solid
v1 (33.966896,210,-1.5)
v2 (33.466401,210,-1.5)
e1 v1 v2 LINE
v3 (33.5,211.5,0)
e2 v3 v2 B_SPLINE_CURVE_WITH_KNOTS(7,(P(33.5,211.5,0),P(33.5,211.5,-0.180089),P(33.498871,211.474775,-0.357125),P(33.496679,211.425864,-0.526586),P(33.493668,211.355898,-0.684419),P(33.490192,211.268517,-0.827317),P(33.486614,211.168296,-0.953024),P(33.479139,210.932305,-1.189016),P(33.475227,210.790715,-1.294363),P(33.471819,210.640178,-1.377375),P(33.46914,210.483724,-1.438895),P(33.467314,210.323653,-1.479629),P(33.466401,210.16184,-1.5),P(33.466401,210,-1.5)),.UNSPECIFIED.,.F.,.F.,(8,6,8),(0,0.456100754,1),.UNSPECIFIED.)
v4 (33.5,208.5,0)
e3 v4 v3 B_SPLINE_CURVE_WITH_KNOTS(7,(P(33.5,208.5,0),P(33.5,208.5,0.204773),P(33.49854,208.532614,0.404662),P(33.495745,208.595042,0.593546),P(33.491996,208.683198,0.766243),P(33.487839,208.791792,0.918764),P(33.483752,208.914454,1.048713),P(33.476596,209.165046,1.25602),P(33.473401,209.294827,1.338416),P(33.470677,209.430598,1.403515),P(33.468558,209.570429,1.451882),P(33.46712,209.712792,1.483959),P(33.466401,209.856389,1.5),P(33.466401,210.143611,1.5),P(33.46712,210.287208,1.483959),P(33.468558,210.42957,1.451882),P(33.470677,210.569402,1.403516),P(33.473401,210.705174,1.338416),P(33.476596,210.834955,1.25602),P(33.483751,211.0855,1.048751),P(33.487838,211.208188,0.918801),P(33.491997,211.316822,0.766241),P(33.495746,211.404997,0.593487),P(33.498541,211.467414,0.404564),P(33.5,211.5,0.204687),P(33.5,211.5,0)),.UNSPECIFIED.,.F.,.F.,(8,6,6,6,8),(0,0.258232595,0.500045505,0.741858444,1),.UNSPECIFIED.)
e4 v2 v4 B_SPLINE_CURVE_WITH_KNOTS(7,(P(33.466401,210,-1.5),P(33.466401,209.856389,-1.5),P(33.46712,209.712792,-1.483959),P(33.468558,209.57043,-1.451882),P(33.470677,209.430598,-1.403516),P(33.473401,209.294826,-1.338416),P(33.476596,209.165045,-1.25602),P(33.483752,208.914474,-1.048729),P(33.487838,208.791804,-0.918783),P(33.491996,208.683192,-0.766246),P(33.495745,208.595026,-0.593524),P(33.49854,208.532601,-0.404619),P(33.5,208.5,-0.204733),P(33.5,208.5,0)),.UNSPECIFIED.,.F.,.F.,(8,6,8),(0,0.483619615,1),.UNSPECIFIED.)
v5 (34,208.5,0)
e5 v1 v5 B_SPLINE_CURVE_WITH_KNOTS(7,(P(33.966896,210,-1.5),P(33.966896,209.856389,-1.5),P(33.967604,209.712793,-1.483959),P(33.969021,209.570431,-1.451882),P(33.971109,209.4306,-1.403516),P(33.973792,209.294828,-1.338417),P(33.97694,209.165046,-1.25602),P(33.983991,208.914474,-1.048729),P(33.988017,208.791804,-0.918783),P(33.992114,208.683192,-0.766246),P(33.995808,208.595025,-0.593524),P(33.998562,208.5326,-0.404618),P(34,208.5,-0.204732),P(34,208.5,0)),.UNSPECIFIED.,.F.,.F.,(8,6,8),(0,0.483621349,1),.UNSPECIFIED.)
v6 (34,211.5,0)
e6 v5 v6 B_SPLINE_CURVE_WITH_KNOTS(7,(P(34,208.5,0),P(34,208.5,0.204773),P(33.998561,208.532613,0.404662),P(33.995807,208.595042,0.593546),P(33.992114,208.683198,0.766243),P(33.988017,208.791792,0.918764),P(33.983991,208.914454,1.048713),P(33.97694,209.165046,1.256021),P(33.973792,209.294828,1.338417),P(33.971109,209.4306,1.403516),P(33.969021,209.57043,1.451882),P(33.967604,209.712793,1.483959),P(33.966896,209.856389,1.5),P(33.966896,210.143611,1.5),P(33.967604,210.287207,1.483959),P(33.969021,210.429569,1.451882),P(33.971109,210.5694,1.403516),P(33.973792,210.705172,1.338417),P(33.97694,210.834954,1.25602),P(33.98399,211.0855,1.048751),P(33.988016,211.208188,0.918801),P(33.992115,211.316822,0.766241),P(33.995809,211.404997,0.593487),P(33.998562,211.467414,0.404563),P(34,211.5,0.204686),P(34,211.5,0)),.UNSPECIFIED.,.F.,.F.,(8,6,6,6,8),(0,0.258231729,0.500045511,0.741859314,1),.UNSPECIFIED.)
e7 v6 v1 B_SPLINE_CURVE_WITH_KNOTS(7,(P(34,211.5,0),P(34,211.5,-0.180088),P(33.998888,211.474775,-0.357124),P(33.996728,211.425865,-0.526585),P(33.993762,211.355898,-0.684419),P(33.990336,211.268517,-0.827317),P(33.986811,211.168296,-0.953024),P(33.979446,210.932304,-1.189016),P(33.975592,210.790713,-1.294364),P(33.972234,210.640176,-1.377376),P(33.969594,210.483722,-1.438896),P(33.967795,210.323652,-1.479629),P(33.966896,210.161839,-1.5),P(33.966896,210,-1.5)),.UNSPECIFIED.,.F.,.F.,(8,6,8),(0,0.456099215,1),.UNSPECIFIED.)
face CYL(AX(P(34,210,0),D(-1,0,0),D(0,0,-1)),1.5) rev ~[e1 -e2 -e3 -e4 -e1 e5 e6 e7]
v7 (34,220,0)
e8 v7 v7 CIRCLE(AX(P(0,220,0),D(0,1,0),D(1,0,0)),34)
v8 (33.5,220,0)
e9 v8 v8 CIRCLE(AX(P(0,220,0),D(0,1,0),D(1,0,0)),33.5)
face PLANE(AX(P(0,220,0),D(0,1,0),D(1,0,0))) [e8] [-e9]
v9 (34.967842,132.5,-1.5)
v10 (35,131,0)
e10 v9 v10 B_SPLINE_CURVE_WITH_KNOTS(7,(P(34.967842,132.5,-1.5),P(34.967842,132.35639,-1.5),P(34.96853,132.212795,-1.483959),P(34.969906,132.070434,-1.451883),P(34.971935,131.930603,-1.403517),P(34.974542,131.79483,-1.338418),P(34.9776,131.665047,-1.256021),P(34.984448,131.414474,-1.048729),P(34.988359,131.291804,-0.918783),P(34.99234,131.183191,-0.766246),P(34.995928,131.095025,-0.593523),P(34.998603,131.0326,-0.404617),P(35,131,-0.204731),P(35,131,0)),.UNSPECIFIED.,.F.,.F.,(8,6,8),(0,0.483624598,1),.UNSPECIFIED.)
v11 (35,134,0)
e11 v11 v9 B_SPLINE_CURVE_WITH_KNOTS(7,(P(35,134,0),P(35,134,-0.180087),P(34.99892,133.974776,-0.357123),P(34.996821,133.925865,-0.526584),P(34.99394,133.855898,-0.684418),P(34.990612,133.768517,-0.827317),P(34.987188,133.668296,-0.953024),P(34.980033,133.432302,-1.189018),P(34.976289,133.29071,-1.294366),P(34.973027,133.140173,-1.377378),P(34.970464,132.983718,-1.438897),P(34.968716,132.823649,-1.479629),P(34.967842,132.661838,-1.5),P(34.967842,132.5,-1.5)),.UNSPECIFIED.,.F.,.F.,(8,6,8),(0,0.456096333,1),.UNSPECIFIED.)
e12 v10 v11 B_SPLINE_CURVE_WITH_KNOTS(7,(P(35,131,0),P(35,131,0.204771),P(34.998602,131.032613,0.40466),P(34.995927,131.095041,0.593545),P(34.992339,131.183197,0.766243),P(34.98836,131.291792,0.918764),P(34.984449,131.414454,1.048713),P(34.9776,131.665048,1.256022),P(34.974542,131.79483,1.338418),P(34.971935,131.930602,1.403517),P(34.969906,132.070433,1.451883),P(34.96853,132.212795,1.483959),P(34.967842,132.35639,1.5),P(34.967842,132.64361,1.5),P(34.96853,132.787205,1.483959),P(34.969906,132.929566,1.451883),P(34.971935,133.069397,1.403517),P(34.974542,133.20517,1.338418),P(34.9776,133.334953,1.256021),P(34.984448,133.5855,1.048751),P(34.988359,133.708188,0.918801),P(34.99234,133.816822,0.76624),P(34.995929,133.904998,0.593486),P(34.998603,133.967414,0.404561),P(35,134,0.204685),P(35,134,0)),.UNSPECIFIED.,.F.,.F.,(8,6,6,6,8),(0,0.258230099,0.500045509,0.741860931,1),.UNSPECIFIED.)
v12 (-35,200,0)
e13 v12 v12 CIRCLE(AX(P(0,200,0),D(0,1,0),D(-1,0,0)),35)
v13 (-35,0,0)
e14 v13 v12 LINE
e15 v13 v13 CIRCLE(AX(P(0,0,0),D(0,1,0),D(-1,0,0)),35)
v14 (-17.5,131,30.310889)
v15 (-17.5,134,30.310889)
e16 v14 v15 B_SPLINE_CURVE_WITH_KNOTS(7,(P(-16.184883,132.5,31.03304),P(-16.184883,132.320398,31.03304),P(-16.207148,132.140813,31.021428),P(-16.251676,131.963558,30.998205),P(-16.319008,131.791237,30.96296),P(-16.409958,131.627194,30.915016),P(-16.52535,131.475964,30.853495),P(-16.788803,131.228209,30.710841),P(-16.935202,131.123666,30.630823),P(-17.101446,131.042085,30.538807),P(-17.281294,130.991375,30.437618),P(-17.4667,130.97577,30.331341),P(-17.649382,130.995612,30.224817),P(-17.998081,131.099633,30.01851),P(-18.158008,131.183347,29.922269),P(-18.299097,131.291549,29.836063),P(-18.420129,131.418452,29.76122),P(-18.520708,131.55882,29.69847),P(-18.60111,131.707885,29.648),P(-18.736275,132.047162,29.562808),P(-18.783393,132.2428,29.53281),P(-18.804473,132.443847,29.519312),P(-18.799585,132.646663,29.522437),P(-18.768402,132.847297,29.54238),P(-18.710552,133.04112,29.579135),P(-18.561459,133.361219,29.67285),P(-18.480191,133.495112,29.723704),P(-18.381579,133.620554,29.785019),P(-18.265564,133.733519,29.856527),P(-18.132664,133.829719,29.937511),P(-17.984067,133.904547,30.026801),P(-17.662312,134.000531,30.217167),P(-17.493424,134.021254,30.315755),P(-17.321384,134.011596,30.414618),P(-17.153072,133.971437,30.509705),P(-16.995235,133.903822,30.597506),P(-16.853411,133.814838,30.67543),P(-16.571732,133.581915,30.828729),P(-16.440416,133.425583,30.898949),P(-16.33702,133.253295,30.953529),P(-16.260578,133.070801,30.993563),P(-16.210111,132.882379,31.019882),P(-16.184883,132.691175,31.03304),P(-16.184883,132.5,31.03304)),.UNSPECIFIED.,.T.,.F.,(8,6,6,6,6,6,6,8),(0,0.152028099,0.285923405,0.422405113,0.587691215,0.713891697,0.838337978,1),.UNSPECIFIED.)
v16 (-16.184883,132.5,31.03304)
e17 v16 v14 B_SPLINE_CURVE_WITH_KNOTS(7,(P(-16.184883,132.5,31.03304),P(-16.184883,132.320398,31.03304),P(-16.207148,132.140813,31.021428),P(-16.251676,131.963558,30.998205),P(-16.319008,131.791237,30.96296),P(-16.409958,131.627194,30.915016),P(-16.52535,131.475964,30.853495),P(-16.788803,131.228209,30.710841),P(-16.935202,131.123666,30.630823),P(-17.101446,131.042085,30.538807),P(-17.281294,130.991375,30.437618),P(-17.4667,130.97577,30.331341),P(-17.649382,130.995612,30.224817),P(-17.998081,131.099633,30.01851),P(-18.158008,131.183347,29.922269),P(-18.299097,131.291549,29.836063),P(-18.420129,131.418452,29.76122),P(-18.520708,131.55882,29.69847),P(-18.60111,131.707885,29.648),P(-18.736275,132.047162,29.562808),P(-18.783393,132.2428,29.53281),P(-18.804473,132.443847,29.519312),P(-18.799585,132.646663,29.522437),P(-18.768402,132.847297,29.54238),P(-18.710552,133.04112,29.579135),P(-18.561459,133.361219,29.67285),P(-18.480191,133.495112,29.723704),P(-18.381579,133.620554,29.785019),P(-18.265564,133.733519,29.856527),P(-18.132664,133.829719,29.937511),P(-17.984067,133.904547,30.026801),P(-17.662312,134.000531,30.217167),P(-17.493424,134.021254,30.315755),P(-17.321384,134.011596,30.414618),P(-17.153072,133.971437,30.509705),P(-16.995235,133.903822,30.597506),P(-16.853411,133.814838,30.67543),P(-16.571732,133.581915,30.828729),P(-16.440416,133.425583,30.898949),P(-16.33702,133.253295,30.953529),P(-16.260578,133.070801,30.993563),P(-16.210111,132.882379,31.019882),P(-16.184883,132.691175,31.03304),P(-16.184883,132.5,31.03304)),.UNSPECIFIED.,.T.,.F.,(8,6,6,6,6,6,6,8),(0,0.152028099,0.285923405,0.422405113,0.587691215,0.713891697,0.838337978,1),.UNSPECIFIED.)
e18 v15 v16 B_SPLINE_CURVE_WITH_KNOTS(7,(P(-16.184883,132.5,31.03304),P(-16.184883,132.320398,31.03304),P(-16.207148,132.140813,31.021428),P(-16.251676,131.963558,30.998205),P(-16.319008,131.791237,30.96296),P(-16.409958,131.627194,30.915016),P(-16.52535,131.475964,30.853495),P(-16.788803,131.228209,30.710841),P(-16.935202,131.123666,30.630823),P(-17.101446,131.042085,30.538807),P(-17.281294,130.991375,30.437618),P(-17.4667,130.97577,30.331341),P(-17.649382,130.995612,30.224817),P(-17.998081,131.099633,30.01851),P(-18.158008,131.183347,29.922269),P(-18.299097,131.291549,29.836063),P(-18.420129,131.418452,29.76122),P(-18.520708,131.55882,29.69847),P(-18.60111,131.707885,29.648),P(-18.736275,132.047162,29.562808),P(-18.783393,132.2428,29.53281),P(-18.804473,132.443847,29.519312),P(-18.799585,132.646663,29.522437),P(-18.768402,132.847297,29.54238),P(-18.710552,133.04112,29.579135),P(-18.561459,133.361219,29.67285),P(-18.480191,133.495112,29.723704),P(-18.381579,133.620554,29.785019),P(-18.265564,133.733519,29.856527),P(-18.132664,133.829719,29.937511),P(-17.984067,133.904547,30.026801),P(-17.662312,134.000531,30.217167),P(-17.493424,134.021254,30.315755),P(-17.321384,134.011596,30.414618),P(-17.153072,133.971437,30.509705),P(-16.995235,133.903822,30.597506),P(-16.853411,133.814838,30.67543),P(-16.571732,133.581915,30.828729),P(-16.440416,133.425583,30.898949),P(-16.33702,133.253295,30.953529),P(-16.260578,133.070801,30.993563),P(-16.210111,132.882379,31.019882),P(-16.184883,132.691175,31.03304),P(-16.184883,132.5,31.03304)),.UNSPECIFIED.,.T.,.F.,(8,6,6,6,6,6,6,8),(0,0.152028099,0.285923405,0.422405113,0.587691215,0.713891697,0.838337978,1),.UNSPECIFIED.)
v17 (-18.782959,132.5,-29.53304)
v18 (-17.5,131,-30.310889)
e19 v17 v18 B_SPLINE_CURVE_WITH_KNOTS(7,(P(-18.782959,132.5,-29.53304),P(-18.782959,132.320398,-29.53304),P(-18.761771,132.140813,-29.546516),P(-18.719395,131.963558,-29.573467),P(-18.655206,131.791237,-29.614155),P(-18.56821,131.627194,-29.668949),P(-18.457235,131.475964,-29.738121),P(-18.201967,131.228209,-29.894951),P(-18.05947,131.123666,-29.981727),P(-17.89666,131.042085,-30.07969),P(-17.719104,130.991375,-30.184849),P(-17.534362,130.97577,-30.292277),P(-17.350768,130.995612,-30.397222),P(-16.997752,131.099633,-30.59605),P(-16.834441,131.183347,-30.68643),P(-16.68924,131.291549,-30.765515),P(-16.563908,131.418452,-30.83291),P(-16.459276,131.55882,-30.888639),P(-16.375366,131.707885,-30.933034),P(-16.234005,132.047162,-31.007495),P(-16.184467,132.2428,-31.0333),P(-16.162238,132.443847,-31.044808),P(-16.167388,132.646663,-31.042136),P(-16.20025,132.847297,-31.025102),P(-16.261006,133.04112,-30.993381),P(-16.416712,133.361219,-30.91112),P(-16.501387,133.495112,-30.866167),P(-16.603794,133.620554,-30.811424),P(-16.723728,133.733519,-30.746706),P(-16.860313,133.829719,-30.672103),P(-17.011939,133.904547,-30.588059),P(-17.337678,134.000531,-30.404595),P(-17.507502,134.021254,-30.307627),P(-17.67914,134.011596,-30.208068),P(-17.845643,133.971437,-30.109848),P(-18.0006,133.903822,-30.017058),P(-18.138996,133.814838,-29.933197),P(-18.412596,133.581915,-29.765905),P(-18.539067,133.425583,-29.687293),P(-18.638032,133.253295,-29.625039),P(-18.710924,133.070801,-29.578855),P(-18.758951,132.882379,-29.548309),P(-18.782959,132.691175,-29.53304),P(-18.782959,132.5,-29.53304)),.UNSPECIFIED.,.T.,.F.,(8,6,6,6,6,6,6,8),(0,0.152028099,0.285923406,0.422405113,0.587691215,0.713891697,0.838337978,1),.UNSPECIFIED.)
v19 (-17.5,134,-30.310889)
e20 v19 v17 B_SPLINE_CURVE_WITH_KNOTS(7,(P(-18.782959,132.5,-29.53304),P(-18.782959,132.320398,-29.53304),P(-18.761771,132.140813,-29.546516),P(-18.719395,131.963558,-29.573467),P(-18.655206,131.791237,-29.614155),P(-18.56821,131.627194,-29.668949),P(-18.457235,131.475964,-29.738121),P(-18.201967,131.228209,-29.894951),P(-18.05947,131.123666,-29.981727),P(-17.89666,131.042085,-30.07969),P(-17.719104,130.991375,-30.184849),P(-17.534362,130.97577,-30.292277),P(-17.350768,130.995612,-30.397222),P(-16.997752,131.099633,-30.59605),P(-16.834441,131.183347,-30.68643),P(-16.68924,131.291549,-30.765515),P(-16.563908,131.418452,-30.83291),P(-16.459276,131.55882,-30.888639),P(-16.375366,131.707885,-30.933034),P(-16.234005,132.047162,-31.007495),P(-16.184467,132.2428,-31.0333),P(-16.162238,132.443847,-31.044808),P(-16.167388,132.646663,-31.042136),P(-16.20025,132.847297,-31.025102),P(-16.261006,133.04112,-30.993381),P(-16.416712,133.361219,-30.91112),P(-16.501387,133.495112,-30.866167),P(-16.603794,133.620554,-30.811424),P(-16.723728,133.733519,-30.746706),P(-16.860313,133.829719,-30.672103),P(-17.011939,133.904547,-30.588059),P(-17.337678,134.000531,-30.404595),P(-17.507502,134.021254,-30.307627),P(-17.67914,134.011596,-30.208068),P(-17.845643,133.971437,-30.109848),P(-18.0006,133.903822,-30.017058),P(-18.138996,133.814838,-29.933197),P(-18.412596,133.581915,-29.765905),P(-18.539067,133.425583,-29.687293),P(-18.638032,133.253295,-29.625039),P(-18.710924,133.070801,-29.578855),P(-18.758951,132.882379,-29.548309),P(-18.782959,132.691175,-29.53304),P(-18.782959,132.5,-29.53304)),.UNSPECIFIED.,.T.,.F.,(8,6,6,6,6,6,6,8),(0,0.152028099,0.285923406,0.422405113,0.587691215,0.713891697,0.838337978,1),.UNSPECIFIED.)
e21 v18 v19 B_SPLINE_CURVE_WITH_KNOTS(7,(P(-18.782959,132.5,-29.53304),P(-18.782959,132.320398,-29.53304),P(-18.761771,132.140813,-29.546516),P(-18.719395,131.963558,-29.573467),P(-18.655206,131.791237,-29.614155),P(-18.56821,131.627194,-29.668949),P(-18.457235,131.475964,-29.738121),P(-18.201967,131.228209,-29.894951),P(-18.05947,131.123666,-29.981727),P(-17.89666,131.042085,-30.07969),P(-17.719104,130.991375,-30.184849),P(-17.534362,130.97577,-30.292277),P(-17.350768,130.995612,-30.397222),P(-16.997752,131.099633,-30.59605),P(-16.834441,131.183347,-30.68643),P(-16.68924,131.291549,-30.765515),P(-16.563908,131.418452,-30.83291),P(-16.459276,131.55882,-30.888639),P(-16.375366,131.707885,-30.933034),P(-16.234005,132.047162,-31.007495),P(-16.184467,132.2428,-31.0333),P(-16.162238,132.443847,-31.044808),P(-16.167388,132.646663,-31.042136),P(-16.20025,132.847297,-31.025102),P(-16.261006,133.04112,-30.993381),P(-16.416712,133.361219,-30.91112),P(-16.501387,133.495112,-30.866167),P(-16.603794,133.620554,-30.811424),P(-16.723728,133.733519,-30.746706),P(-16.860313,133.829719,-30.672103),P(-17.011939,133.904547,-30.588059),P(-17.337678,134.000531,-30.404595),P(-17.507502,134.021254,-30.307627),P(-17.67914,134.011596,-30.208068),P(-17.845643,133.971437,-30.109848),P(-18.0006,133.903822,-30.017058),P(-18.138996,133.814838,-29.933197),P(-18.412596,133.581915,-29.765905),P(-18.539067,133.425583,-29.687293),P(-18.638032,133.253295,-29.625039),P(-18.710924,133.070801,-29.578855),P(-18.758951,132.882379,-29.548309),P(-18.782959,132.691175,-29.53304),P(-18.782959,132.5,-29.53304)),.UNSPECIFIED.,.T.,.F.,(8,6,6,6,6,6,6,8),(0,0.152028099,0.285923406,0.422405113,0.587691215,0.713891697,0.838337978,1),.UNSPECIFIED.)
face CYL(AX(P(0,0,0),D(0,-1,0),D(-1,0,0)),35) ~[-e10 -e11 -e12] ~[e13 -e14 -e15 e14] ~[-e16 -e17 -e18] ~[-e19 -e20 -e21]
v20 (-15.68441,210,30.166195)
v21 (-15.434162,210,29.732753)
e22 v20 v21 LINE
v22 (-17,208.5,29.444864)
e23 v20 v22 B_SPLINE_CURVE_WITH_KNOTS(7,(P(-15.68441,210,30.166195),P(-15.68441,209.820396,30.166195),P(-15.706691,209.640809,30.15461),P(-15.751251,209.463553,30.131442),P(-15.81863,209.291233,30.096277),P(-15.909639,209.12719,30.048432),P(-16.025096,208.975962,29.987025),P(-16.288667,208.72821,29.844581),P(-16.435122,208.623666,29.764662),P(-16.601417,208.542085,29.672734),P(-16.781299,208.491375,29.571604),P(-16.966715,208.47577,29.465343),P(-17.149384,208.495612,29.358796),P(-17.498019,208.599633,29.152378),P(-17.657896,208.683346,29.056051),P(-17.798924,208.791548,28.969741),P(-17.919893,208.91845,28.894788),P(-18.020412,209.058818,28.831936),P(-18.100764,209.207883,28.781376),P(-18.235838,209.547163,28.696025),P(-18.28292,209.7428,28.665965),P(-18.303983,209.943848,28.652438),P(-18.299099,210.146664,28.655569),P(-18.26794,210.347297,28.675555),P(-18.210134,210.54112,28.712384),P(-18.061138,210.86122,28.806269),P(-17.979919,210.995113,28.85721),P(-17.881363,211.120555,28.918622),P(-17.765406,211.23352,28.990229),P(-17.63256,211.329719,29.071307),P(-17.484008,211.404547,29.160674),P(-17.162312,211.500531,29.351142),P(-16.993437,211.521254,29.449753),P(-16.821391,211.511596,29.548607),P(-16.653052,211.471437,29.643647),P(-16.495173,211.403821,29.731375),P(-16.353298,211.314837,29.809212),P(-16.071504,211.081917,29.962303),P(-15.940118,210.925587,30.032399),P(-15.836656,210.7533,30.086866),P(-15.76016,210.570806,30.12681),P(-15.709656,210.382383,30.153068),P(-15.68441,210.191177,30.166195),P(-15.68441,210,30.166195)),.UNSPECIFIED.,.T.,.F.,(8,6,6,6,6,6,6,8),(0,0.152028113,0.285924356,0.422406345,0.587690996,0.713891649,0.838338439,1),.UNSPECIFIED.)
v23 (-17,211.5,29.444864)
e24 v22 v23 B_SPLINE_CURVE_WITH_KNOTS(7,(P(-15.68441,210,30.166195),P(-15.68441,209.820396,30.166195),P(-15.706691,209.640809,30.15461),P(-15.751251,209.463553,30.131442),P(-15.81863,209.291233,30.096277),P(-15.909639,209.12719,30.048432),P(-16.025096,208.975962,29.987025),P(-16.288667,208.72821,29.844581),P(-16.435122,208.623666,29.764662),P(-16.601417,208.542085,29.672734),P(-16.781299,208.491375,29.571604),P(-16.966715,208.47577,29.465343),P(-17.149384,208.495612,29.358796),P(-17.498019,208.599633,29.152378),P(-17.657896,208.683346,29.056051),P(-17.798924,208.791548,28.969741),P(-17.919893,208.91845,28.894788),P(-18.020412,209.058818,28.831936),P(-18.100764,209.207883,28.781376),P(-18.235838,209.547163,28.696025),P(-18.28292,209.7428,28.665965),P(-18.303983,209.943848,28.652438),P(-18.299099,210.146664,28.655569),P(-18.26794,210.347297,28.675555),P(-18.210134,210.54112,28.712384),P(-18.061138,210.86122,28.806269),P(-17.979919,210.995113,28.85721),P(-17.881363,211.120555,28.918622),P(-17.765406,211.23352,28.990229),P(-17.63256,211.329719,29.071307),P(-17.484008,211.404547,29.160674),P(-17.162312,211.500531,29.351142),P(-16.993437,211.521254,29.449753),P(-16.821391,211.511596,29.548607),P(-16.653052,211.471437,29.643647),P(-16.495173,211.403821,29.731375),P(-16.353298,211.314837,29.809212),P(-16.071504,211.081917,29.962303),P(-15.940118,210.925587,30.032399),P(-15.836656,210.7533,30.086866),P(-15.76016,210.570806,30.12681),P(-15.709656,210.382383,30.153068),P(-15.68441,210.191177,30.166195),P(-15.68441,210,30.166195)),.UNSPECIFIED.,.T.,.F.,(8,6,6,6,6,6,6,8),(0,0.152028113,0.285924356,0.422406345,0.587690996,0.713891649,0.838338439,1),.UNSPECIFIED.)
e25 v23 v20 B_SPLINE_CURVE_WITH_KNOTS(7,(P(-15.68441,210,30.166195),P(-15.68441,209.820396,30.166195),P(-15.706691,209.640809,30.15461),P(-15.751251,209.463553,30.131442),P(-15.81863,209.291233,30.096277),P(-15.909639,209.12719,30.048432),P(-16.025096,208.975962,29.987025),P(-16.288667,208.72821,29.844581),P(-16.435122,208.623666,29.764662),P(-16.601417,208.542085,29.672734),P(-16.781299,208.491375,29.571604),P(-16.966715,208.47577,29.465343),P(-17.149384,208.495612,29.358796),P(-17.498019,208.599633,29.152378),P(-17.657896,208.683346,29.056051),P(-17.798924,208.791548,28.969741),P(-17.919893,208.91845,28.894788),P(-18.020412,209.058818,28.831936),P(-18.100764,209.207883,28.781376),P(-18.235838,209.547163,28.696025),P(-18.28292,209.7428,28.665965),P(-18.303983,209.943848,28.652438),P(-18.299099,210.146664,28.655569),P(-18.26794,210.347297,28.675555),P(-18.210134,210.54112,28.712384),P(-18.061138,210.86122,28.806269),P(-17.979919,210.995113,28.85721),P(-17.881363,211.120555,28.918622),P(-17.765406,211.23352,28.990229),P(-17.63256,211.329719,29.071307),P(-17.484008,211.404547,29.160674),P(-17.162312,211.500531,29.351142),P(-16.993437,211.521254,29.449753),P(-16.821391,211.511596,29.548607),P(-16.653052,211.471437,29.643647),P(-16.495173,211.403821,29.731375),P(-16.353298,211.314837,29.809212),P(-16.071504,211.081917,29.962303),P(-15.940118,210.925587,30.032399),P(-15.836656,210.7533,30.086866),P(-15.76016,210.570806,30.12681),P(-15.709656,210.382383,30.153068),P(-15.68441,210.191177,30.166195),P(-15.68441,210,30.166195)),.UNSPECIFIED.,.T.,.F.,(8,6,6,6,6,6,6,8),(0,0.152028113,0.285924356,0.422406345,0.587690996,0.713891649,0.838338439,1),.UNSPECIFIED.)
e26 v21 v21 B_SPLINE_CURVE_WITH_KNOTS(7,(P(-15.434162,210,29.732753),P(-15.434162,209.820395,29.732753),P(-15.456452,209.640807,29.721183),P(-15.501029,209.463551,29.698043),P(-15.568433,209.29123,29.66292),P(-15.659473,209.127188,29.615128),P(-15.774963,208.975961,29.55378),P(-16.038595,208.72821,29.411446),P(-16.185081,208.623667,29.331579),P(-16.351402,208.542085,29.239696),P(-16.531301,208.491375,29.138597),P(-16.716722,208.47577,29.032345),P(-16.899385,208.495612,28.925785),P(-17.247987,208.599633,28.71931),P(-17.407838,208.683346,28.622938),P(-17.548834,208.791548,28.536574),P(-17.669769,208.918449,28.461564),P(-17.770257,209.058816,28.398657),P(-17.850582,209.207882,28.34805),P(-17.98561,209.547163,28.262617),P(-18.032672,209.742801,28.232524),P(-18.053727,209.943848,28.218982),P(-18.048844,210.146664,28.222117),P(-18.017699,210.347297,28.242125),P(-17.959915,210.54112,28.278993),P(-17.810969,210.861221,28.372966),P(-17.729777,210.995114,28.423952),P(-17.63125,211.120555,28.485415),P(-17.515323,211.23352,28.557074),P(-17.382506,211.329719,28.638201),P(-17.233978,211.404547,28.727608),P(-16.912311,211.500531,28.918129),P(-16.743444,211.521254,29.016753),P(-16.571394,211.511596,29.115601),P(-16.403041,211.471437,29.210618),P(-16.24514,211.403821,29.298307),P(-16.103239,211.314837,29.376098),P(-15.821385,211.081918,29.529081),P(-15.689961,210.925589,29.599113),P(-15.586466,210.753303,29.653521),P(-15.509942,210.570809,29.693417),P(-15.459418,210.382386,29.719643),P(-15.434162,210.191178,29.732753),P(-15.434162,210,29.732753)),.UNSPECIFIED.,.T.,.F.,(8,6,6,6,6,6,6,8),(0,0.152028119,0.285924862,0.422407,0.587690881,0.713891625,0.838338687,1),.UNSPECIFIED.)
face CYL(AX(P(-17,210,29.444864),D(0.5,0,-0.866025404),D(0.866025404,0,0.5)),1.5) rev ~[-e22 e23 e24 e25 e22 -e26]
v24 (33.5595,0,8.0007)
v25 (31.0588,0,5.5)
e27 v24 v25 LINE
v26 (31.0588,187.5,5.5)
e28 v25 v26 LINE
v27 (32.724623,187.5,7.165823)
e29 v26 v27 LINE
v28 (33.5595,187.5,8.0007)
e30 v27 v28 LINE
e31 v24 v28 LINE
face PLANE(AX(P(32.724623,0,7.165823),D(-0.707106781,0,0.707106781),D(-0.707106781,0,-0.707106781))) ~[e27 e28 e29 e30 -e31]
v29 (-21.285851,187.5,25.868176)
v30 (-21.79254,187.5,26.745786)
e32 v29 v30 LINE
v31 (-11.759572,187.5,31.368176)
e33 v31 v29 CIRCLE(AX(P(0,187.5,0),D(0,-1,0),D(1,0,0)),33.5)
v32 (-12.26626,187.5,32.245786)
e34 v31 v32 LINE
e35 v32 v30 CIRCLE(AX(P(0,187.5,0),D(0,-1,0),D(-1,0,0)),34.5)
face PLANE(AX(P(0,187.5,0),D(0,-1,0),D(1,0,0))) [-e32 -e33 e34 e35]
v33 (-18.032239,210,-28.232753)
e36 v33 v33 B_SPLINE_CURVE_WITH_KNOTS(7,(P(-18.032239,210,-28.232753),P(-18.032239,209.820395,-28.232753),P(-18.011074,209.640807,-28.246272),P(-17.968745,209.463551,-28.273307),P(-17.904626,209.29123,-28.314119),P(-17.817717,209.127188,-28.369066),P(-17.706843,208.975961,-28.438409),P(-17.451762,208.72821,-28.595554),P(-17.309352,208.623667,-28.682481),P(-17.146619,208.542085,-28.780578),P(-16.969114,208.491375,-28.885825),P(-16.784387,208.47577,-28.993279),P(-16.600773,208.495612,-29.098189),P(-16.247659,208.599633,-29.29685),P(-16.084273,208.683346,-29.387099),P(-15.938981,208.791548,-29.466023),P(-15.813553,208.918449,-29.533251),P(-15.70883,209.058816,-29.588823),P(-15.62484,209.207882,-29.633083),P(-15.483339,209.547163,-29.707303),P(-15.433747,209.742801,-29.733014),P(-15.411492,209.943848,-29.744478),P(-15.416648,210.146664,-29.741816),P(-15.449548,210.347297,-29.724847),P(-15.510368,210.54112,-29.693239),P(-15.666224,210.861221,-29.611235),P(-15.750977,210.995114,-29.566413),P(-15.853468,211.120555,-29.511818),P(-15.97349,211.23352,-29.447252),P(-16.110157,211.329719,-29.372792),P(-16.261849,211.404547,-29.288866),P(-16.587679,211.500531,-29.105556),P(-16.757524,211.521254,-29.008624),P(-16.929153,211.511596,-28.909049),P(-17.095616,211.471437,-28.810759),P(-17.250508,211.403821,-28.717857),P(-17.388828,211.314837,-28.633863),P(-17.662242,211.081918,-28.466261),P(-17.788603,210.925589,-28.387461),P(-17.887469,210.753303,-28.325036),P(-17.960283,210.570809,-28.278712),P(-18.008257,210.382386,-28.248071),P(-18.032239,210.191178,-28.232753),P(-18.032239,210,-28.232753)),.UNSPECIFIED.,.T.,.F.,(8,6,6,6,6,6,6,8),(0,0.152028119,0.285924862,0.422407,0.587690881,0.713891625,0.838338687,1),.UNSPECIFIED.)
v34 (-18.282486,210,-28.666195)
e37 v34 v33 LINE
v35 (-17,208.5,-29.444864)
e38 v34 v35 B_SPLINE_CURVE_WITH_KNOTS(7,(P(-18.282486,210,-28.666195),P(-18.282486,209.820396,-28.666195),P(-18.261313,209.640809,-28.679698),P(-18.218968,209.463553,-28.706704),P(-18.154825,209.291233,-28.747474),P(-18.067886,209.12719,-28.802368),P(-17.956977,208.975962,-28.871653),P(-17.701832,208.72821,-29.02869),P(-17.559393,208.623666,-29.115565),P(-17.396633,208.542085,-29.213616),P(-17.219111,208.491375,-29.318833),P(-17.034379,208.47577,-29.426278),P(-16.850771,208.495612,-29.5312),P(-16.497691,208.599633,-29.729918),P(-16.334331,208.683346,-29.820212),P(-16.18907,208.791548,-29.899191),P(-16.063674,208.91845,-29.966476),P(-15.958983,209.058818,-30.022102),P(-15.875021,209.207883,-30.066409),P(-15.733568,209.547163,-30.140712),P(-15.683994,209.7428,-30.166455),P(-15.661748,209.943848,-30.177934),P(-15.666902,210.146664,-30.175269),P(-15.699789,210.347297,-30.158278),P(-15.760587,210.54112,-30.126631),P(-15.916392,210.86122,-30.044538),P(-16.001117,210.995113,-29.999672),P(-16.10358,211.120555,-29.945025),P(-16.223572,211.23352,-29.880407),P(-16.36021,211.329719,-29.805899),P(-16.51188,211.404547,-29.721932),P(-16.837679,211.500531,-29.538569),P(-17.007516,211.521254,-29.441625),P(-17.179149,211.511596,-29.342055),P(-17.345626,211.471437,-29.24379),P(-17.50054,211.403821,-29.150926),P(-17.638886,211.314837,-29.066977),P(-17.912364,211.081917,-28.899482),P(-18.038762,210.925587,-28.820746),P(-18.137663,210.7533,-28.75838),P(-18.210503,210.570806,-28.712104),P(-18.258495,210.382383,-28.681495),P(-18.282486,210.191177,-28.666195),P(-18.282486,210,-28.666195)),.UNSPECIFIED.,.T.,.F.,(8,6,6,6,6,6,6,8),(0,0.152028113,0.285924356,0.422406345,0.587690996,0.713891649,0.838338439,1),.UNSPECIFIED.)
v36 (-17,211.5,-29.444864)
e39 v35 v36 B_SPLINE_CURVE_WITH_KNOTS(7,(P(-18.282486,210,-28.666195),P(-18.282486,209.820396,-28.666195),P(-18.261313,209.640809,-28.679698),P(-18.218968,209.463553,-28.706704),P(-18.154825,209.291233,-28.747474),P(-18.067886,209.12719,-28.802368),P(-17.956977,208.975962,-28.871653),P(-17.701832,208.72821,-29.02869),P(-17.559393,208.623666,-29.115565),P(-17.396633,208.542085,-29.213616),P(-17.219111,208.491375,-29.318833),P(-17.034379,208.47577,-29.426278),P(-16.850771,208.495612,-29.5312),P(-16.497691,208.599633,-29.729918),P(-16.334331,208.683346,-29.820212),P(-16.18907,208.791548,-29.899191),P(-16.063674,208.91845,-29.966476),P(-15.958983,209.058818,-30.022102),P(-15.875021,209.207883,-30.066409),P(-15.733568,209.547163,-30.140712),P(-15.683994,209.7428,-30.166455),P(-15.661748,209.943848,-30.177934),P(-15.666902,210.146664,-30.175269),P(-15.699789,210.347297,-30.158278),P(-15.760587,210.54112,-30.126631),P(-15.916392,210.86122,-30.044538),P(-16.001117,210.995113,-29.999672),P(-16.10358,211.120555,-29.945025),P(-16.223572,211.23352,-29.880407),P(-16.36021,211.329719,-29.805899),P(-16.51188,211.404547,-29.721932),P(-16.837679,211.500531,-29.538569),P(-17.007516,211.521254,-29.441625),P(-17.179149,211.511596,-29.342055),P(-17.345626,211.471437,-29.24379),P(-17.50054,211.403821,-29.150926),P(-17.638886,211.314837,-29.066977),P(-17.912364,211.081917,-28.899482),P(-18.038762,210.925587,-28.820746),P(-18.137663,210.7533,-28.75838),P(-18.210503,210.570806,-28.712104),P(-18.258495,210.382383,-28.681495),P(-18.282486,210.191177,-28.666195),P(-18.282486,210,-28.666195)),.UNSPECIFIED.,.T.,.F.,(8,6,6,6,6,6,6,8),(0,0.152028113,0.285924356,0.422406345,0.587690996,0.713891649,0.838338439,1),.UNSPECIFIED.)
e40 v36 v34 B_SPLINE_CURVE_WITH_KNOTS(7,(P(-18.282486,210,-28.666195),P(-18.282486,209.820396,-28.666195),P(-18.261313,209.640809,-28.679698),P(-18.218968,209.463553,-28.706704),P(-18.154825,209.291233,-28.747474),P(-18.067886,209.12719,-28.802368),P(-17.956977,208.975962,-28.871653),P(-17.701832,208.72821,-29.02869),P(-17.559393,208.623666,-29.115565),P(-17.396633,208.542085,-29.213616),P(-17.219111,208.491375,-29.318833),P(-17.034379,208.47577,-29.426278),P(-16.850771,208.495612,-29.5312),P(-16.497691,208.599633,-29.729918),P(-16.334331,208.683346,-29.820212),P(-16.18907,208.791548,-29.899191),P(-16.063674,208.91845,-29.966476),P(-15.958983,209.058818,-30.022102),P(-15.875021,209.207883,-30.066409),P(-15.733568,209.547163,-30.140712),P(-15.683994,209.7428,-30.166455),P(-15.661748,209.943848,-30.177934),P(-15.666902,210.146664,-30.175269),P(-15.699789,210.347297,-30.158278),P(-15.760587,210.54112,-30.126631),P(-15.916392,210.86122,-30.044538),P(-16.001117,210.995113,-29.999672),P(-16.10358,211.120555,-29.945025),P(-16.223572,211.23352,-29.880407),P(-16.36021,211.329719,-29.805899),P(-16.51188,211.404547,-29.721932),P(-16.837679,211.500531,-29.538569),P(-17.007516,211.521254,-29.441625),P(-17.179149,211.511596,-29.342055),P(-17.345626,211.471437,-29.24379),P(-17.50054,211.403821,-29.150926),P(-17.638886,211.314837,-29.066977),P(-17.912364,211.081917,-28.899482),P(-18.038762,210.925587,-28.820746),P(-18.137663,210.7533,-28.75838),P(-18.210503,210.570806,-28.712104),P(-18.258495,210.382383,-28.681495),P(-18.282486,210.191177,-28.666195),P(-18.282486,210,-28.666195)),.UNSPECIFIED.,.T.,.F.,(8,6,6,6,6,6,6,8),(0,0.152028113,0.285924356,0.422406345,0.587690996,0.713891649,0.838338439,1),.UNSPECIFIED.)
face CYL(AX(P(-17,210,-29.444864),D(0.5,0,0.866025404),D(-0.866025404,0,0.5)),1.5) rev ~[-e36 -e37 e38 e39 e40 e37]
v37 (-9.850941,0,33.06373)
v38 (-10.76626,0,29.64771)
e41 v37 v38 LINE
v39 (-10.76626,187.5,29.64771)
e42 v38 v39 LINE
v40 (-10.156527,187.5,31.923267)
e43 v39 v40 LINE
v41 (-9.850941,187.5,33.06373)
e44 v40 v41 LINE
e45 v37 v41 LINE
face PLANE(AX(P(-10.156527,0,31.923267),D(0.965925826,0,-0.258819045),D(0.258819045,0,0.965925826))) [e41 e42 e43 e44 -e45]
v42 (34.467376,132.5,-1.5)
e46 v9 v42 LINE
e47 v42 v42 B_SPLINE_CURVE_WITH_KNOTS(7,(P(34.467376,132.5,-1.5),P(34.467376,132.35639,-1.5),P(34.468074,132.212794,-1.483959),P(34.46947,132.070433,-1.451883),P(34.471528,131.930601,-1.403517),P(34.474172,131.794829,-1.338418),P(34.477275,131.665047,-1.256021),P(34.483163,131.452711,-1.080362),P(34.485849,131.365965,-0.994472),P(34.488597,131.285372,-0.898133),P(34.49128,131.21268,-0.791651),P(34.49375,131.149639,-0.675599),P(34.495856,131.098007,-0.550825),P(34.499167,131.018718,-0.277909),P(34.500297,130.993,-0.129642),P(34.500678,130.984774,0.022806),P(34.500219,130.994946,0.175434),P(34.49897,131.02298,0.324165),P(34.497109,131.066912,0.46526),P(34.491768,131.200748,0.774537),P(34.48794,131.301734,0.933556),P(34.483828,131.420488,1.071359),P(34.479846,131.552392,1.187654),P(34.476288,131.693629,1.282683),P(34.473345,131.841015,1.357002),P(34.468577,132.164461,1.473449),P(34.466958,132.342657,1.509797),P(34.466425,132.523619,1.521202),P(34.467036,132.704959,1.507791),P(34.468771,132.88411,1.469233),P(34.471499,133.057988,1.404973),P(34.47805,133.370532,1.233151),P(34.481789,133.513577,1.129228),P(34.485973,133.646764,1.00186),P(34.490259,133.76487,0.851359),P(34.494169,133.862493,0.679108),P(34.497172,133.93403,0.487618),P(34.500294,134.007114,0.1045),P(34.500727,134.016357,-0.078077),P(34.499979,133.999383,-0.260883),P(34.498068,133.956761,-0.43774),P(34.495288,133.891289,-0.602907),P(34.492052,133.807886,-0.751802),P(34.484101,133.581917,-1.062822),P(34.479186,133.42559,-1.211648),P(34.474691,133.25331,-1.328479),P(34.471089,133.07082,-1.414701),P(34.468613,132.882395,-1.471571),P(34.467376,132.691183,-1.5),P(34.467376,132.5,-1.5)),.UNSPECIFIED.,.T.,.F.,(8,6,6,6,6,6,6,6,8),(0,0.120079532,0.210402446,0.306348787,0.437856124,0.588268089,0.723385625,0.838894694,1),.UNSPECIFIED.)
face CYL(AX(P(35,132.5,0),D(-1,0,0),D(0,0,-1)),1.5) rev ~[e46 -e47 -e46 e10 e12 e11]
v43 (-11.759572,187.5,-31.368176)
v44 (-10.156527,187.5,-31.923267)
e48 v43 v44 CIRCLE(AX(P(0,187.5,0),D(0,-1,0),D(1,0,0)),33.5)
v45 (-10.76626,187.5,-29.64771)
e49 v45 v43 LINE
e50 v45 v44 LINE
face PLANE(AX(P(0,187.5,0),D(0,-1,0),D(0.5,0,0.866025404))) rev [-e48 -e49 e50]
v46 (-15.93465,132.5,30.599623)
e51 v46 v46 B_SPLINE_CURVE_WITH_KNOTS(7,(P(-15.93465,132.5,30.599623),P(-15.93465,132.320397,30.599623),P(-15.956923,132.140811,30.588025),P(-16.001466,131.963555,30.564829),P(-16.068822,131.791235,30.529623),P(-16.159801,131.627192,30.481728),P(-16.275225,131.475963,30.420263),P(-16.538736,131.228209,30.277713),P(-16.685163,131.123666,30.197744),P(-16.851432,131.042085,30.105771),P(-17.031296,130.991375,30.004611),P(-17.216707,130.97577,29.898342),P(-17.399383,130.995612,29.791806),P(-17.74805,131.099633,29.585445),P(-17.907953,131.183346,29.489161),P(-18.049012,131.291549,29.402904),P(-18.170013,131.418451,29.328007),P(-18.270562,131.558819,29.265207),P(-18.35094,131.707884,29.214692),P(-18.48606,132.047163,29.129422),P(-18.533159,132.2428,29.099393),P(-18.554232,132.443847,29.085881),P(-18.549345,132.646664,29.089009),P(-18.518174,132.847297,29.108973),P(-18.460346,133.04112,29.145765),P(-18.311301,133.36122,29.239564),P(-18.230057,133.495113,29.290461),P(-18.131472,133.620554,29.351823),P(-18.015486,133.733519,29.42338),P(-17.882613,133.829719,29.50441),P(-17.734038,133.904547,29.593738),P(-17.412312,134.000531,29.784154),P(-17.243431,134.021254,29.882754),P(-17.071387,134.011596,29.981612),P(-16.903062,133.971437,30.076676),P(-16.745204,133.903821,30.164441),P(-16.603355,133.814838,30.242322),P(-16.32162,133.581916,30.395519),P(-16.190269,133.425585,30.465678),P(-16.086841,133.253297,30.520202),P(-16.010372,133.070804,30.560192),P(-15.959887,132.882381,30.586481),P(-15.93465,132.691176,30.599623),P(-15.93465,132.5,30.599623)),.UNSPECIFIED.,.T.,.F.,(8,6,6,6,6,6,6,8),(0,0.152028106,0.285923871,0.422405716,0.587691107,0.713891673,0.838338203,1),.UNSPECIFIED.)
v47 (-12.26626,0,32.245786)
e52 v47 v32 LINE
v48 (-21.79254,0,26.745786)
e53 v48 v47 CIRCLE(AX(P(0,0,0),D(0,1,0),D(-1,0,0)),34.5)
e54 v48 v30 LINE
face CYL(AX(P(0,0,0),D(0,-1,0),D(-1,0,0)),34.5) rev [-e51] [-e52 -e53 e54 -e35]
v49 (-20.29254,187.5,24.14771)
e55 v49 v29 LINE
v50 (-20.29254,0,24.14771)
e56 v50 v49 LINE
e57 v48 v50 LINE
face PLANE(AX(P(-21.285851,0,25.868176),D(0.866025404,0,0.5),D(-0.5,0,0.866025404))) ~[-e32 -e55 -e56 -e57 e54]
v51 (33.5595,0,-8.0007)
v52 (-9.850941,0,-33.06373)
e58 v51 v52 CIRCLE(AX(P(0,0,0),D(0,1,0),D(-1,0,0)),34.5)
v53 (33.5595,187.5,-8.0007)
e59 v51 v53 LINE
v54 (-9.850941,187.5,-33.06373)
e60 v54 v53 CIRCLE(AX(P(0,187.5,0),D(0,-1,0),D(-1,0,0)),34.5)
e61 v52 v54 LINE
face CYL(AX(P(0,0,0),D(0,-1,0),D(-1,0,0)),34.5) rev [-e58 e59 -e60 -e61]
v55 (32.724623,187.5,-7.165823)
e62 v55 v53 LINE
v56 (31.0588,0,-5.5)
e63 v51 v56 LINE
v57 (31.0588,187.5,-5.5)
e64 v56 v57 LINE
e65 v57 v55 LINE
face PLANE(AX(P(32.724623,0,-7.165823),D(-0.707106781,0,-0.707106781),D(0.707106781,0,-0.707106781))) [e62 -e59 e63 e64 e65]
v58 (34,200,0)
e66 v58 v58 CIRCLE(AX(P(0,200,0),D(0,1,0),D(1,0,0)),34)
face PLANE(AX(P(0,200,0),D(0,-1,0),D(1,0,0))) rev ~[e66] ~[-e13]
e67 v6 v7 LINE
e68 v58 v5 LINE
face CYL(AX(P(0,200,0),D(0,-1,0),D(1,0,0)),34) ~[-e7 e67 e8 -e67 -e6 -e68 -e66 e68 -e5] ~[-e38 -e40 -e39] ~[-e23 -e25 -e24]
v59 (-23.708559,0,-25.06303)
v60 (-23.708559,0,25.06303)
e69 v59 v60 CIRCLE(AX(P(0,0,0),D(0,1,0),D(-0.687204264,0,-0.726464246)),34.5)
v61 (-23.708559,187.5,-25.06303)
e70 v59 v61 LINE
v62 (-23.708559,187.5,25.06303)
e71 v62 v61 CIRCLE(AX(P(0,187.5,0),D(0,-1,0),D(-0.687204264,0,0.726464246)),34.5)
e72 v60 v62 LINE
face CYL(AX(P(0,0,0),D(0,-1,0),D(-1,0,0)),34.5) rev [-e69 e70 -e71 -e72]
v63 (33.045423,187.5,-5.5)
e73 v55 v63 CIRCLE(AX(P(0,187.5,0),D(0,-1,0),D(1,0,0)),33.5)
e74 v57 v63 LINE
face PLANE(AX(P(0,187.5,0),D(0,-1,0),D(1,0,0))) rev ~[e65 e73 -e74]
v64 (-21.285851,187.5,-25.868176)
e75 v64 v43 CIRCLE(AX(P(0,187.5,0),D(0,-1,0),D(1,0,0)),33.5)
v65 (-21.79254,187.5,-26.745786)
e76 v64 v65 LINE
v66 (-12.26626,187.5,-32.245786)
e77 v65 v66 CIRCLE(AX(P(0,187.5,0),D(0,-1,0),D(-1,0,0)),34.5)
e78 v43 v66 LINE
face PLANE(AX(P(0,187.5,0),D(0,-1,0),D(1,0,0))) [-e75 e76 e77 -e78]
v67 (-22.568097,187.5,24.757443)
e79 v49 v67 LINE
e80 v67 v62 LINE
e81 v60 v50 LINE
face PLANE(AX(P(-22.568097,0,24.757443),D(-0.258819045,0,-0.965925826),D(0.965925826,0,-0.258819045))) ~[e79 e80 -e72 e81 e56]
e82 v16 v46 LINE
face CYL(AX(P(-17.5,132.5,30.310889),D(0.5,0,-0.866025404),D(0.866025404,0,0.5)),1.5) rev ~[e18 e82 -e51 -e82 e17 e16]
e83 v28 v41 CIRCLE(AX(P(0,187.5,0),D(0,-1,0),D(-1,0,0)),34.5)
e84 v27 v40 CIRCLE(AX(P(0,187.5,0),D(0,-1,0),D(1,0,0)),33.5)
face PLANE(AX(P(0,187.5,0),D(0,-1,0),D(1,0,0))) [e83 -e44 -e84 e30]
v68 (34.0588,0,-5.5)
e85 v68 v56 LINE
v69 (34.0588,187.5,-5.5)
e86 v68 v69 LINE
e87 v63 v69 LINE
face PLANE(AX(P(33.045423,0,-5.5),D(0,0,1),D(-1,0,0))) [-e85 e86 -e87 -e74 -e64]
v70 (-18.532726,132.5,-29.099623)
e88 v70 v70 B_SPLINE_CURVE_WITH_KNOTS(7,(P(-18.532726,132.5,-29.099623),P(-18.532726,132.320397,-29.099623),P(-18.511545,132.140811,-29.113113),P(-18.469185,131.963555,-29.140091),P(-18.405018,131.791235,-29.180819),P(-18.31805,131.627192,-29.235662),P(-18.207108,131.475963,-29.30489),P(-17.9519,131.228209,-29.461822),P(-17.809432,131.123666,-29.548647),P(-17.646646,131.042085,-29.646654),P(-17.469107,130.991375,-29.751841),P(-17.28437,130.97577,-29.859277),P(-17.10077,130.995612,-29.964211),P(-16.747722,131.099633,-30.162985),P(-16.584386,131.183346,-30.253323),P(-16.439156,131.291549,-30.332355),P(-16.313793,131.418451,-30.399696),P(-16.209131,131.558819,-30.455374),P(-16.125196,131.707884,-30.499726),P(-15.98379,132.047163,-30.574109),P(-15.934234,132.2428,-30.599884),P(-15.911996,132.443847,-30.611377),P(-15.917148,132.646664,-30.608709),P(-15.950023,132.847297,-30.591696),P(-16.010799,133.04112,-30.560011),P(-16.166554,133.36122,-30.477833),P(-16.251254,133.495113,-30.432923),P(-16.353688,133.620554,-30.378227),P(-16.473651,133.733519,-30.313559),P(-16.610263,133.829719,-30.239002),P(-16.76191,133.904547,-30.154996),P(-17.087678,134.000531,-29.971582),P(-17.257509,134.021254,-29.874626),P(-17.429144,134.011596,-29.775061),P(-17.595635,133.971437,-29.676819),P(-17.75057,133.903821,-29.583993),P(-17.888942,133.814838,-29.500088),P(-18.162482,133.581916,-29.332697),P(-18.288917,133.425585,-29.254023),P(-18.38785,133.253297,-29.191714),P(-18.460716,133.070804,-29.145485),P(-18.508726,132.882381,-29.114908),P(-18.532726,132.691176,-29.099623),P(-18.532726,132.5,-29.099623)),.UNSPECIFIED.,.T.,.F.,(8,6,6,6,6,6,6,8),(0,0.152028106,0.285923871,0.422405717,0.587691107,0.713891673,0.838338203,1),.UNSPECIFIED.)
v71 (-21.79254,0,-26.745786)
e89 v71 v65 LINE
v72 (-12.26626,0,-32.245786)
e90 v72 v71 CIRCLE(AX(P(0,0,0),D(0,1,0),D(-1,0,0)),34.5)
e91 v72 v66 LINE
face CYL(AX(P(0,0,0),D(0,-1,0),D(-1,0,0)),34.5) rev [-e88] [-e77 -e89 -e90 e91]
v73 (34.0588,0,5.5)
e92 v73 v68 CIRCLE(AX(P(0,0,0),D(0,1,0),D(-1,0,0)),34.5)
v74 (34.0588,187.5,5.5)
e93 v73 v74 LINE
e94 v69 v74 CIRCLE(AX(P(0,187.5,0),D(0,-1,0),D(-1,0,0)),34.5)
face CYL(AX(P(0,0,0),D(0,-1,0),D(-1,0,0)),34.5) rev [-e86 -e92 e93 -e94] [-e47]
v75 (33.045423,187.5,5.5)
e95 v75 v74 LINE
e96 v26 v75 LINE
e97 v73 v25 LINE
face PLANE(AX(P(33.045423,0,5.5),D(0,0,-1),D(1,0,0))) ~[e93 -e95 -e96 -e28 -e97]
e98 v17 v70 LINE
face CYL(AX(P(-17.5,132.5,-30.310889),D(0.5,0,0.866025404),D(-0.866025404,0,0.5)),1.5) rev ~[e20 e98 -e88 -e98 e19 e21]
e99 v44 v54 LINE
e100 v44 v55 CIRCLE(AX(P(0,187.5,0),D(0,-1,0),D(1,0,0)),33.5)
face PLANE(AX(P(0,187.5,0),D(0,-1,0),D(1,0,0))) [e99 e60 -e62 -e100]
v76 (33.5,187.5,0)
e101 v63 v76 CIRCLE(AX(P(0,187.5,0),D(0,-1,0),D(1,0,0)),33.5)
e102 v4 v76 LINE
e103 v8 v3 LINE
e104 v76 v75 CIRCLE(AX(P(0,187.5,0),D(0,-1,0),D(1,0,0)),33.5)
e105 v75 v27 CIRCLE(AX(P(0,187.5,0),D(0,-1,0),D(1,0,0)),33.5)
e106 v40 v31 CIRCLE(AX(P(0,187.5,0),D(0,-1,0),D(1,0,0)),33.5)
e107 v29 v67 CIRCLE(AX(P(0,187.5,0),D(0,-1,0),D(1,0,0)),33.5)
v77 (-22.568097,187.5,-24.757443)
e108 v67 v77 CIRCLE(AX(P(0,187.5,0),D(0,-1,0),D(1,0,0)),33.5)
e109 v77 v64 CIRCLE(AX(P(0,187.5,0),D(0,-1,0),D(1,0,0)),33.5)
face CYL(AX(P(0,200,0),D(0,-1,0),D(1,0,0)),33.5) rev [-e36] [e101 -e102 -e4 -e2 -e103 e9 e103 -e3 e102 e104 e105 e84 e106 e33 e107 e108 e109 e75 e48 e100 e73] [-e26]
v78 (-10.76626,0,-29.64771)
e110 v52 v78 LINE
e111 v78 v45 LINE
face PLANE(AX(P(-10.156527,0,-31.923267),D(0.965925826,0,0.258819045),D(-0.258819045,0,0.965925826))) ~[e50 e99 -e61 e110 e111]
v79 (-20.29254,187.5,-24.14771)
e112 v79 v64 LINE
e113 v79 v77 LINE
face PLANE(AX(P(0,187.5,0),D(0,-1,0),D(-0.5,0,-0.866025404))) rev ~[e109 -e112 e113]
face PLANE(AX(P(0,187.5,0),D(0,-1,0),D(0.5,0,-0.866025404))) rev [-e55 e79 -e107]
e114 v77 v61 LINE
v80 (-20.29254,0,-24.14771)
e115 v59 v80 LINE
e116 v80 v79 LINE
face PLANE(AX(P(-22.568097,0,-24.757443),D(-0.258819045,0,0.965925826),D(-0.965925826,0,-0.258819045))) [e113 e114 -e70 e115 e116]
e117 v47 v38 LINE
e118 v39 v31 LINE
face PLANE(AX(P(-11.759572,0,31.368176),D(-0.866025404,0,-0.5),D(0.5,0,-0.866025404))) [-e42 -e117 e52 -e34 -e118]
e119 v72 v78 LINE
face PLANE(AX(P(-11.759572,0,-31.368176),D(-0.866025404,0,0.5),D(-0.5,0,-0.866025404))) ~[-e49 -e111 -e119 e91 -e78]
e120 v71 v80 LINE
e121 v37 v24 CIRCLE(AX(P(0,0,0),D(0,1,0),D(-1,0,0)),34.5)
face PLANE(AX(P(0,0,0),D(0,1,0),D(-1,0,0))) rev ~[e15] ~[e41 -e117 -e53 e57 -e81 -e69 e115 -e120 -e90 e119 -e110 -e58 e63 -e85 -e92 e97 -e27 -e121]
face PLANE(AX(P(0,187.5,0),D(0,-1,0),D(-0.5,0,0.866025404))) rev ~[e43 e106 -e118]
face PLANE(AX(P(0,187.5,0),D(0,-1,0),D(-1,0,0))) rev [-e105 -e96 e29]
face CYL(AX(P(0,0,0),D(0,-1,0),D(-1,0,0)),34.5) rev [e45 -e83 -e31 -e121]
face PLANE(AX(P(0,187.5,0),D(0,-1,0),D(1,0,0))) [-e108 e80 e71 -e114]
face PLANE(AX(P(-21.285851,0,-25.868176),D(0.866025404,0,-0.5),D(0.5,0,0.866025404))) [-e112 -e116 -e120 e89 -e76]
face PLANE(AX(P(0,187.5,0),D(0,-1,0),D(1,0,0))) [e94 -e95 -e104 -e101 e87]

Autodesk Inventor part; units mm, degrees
ref_plane "XZ Plane" through (0, 0, 0) normal (0, 1, 0) x (-1, 0, 0)
sketch "Sketch1" plane through (0, 0, 0) normal (0, 1, 0) x (-1, 0, 0)
  circle A0 centre (0, 0) radius 35
  circle A1 centre (0, 0) radius 34.5
  dimension "d0" = 70
  dimension "d1" = 69
extrude "Extrusion1" add sketch "Sketch1" along normal blind 200
ref_plane "Work Plane2" through (35, 0, 0) normal (1, 0, 0) x (0, 1, 0)
sketch "Sketch4" plane through (35, 0, 0) normal (1, 0, 0) x (0, 1, 0)
  line L0 (200, -35) -> (200, 35) projected
  point P0 (0, 0)
  point P1 (132.5, 0)
  dimension "d48" = 132.5
hole "Hole2" at (35, 132.5, 0) direction (-1, 0, 0) diameter 3 depth 8 tip angle 118
sketch "Sketch5" plane through (0, 200, 0) normal (0, 1, 0) x (1, 0, 0)
  circle A0 centre (0, 0) radius 34
  circle A1 centre (0, 0) radius 33.5
  dimension "d44" = 68
  dimension "d45" = 67
extrude "Extrusion3" add sketch "Sketch5" along normal blind 20
sketch "Sketch6" plane through (0, 200, 0) normal (0, -1, 0) x (1, 0, 0)
  circle A0 centre (0, 0) radius 33.5
  circle A1 centre (0, 0) radius 34.5 projected
  circle A2 centre (0, 0) radius 35
extrude "Extrusion4" add sketch "Sketch6" along normal blind 12.5 contours A1
ref_plane "Work Plane4" through (34, 0, 0) normal (1, 0, 0) x (0, 1, 0)
sketch "Sketch8" plane through (34, 0, 0) normal (1, 0, 0) x (0, 1, 0)
  line L0 (220, -34) -> (220, 34) projected
  point P0 (0, 0)
  point P1 (210, 0)
  dimension "d61" = 10
hole "Hole4" at (34, 210, 0) direction (-1, 0, 0) diameter 3 depth 8 tip angle 118
pattern_circular "Circular Pattern2" count 3 over 360 about axis through (0, 0, 0) along (0, 1, 0) of "Hole2", "Hole4"
sketch "Sketch9" plane through (0, 0, 0) normal (0, -1, 0) x (1, 0, 0)
  line L0 (34.0588, 0) -> (34.0588, -5.5) construction
  circle A0 centre (0, 0) radius 34.5 projected
  circle A1 centre (0, 0) radius 33.5 projected
  arc A2 (33.5595, -8.0007) -> (34.0588, -5.5) centre (0, 0) ccw
  line L1 (34.0588, -5.5) -> (31.0588, -5.5)
  line L2 (31.0588, -5.5) -> (33.5595, -8.0007)
  point P0 (33.0454, -5.5)
  dimension "d72" = 5.5
  dimension "d73" = 0
  dimension "d79" = 3
  dimension "d80" = 45
extrude "Extrusion5" add sketch "Sketch9" against normal up to surface (187.5 mm away) contours L2 A1 L1 A0 | L2 L1 A1 picked at (33.6724, -5.7792) picked at (32.2081, -6.4261)
mirror "Mirror1" about plane through (0, 0, 0) normal (0, 0, 1) of "Extrusion5"
pattern_circular "Circular Pattern3" count 3 over 360 about axis through (0, 0, 0) along (0, 1, 0) of "Extrusion5", "Mirror1"
properties part number "Lower skin" material "Plastic, Opaque White"
